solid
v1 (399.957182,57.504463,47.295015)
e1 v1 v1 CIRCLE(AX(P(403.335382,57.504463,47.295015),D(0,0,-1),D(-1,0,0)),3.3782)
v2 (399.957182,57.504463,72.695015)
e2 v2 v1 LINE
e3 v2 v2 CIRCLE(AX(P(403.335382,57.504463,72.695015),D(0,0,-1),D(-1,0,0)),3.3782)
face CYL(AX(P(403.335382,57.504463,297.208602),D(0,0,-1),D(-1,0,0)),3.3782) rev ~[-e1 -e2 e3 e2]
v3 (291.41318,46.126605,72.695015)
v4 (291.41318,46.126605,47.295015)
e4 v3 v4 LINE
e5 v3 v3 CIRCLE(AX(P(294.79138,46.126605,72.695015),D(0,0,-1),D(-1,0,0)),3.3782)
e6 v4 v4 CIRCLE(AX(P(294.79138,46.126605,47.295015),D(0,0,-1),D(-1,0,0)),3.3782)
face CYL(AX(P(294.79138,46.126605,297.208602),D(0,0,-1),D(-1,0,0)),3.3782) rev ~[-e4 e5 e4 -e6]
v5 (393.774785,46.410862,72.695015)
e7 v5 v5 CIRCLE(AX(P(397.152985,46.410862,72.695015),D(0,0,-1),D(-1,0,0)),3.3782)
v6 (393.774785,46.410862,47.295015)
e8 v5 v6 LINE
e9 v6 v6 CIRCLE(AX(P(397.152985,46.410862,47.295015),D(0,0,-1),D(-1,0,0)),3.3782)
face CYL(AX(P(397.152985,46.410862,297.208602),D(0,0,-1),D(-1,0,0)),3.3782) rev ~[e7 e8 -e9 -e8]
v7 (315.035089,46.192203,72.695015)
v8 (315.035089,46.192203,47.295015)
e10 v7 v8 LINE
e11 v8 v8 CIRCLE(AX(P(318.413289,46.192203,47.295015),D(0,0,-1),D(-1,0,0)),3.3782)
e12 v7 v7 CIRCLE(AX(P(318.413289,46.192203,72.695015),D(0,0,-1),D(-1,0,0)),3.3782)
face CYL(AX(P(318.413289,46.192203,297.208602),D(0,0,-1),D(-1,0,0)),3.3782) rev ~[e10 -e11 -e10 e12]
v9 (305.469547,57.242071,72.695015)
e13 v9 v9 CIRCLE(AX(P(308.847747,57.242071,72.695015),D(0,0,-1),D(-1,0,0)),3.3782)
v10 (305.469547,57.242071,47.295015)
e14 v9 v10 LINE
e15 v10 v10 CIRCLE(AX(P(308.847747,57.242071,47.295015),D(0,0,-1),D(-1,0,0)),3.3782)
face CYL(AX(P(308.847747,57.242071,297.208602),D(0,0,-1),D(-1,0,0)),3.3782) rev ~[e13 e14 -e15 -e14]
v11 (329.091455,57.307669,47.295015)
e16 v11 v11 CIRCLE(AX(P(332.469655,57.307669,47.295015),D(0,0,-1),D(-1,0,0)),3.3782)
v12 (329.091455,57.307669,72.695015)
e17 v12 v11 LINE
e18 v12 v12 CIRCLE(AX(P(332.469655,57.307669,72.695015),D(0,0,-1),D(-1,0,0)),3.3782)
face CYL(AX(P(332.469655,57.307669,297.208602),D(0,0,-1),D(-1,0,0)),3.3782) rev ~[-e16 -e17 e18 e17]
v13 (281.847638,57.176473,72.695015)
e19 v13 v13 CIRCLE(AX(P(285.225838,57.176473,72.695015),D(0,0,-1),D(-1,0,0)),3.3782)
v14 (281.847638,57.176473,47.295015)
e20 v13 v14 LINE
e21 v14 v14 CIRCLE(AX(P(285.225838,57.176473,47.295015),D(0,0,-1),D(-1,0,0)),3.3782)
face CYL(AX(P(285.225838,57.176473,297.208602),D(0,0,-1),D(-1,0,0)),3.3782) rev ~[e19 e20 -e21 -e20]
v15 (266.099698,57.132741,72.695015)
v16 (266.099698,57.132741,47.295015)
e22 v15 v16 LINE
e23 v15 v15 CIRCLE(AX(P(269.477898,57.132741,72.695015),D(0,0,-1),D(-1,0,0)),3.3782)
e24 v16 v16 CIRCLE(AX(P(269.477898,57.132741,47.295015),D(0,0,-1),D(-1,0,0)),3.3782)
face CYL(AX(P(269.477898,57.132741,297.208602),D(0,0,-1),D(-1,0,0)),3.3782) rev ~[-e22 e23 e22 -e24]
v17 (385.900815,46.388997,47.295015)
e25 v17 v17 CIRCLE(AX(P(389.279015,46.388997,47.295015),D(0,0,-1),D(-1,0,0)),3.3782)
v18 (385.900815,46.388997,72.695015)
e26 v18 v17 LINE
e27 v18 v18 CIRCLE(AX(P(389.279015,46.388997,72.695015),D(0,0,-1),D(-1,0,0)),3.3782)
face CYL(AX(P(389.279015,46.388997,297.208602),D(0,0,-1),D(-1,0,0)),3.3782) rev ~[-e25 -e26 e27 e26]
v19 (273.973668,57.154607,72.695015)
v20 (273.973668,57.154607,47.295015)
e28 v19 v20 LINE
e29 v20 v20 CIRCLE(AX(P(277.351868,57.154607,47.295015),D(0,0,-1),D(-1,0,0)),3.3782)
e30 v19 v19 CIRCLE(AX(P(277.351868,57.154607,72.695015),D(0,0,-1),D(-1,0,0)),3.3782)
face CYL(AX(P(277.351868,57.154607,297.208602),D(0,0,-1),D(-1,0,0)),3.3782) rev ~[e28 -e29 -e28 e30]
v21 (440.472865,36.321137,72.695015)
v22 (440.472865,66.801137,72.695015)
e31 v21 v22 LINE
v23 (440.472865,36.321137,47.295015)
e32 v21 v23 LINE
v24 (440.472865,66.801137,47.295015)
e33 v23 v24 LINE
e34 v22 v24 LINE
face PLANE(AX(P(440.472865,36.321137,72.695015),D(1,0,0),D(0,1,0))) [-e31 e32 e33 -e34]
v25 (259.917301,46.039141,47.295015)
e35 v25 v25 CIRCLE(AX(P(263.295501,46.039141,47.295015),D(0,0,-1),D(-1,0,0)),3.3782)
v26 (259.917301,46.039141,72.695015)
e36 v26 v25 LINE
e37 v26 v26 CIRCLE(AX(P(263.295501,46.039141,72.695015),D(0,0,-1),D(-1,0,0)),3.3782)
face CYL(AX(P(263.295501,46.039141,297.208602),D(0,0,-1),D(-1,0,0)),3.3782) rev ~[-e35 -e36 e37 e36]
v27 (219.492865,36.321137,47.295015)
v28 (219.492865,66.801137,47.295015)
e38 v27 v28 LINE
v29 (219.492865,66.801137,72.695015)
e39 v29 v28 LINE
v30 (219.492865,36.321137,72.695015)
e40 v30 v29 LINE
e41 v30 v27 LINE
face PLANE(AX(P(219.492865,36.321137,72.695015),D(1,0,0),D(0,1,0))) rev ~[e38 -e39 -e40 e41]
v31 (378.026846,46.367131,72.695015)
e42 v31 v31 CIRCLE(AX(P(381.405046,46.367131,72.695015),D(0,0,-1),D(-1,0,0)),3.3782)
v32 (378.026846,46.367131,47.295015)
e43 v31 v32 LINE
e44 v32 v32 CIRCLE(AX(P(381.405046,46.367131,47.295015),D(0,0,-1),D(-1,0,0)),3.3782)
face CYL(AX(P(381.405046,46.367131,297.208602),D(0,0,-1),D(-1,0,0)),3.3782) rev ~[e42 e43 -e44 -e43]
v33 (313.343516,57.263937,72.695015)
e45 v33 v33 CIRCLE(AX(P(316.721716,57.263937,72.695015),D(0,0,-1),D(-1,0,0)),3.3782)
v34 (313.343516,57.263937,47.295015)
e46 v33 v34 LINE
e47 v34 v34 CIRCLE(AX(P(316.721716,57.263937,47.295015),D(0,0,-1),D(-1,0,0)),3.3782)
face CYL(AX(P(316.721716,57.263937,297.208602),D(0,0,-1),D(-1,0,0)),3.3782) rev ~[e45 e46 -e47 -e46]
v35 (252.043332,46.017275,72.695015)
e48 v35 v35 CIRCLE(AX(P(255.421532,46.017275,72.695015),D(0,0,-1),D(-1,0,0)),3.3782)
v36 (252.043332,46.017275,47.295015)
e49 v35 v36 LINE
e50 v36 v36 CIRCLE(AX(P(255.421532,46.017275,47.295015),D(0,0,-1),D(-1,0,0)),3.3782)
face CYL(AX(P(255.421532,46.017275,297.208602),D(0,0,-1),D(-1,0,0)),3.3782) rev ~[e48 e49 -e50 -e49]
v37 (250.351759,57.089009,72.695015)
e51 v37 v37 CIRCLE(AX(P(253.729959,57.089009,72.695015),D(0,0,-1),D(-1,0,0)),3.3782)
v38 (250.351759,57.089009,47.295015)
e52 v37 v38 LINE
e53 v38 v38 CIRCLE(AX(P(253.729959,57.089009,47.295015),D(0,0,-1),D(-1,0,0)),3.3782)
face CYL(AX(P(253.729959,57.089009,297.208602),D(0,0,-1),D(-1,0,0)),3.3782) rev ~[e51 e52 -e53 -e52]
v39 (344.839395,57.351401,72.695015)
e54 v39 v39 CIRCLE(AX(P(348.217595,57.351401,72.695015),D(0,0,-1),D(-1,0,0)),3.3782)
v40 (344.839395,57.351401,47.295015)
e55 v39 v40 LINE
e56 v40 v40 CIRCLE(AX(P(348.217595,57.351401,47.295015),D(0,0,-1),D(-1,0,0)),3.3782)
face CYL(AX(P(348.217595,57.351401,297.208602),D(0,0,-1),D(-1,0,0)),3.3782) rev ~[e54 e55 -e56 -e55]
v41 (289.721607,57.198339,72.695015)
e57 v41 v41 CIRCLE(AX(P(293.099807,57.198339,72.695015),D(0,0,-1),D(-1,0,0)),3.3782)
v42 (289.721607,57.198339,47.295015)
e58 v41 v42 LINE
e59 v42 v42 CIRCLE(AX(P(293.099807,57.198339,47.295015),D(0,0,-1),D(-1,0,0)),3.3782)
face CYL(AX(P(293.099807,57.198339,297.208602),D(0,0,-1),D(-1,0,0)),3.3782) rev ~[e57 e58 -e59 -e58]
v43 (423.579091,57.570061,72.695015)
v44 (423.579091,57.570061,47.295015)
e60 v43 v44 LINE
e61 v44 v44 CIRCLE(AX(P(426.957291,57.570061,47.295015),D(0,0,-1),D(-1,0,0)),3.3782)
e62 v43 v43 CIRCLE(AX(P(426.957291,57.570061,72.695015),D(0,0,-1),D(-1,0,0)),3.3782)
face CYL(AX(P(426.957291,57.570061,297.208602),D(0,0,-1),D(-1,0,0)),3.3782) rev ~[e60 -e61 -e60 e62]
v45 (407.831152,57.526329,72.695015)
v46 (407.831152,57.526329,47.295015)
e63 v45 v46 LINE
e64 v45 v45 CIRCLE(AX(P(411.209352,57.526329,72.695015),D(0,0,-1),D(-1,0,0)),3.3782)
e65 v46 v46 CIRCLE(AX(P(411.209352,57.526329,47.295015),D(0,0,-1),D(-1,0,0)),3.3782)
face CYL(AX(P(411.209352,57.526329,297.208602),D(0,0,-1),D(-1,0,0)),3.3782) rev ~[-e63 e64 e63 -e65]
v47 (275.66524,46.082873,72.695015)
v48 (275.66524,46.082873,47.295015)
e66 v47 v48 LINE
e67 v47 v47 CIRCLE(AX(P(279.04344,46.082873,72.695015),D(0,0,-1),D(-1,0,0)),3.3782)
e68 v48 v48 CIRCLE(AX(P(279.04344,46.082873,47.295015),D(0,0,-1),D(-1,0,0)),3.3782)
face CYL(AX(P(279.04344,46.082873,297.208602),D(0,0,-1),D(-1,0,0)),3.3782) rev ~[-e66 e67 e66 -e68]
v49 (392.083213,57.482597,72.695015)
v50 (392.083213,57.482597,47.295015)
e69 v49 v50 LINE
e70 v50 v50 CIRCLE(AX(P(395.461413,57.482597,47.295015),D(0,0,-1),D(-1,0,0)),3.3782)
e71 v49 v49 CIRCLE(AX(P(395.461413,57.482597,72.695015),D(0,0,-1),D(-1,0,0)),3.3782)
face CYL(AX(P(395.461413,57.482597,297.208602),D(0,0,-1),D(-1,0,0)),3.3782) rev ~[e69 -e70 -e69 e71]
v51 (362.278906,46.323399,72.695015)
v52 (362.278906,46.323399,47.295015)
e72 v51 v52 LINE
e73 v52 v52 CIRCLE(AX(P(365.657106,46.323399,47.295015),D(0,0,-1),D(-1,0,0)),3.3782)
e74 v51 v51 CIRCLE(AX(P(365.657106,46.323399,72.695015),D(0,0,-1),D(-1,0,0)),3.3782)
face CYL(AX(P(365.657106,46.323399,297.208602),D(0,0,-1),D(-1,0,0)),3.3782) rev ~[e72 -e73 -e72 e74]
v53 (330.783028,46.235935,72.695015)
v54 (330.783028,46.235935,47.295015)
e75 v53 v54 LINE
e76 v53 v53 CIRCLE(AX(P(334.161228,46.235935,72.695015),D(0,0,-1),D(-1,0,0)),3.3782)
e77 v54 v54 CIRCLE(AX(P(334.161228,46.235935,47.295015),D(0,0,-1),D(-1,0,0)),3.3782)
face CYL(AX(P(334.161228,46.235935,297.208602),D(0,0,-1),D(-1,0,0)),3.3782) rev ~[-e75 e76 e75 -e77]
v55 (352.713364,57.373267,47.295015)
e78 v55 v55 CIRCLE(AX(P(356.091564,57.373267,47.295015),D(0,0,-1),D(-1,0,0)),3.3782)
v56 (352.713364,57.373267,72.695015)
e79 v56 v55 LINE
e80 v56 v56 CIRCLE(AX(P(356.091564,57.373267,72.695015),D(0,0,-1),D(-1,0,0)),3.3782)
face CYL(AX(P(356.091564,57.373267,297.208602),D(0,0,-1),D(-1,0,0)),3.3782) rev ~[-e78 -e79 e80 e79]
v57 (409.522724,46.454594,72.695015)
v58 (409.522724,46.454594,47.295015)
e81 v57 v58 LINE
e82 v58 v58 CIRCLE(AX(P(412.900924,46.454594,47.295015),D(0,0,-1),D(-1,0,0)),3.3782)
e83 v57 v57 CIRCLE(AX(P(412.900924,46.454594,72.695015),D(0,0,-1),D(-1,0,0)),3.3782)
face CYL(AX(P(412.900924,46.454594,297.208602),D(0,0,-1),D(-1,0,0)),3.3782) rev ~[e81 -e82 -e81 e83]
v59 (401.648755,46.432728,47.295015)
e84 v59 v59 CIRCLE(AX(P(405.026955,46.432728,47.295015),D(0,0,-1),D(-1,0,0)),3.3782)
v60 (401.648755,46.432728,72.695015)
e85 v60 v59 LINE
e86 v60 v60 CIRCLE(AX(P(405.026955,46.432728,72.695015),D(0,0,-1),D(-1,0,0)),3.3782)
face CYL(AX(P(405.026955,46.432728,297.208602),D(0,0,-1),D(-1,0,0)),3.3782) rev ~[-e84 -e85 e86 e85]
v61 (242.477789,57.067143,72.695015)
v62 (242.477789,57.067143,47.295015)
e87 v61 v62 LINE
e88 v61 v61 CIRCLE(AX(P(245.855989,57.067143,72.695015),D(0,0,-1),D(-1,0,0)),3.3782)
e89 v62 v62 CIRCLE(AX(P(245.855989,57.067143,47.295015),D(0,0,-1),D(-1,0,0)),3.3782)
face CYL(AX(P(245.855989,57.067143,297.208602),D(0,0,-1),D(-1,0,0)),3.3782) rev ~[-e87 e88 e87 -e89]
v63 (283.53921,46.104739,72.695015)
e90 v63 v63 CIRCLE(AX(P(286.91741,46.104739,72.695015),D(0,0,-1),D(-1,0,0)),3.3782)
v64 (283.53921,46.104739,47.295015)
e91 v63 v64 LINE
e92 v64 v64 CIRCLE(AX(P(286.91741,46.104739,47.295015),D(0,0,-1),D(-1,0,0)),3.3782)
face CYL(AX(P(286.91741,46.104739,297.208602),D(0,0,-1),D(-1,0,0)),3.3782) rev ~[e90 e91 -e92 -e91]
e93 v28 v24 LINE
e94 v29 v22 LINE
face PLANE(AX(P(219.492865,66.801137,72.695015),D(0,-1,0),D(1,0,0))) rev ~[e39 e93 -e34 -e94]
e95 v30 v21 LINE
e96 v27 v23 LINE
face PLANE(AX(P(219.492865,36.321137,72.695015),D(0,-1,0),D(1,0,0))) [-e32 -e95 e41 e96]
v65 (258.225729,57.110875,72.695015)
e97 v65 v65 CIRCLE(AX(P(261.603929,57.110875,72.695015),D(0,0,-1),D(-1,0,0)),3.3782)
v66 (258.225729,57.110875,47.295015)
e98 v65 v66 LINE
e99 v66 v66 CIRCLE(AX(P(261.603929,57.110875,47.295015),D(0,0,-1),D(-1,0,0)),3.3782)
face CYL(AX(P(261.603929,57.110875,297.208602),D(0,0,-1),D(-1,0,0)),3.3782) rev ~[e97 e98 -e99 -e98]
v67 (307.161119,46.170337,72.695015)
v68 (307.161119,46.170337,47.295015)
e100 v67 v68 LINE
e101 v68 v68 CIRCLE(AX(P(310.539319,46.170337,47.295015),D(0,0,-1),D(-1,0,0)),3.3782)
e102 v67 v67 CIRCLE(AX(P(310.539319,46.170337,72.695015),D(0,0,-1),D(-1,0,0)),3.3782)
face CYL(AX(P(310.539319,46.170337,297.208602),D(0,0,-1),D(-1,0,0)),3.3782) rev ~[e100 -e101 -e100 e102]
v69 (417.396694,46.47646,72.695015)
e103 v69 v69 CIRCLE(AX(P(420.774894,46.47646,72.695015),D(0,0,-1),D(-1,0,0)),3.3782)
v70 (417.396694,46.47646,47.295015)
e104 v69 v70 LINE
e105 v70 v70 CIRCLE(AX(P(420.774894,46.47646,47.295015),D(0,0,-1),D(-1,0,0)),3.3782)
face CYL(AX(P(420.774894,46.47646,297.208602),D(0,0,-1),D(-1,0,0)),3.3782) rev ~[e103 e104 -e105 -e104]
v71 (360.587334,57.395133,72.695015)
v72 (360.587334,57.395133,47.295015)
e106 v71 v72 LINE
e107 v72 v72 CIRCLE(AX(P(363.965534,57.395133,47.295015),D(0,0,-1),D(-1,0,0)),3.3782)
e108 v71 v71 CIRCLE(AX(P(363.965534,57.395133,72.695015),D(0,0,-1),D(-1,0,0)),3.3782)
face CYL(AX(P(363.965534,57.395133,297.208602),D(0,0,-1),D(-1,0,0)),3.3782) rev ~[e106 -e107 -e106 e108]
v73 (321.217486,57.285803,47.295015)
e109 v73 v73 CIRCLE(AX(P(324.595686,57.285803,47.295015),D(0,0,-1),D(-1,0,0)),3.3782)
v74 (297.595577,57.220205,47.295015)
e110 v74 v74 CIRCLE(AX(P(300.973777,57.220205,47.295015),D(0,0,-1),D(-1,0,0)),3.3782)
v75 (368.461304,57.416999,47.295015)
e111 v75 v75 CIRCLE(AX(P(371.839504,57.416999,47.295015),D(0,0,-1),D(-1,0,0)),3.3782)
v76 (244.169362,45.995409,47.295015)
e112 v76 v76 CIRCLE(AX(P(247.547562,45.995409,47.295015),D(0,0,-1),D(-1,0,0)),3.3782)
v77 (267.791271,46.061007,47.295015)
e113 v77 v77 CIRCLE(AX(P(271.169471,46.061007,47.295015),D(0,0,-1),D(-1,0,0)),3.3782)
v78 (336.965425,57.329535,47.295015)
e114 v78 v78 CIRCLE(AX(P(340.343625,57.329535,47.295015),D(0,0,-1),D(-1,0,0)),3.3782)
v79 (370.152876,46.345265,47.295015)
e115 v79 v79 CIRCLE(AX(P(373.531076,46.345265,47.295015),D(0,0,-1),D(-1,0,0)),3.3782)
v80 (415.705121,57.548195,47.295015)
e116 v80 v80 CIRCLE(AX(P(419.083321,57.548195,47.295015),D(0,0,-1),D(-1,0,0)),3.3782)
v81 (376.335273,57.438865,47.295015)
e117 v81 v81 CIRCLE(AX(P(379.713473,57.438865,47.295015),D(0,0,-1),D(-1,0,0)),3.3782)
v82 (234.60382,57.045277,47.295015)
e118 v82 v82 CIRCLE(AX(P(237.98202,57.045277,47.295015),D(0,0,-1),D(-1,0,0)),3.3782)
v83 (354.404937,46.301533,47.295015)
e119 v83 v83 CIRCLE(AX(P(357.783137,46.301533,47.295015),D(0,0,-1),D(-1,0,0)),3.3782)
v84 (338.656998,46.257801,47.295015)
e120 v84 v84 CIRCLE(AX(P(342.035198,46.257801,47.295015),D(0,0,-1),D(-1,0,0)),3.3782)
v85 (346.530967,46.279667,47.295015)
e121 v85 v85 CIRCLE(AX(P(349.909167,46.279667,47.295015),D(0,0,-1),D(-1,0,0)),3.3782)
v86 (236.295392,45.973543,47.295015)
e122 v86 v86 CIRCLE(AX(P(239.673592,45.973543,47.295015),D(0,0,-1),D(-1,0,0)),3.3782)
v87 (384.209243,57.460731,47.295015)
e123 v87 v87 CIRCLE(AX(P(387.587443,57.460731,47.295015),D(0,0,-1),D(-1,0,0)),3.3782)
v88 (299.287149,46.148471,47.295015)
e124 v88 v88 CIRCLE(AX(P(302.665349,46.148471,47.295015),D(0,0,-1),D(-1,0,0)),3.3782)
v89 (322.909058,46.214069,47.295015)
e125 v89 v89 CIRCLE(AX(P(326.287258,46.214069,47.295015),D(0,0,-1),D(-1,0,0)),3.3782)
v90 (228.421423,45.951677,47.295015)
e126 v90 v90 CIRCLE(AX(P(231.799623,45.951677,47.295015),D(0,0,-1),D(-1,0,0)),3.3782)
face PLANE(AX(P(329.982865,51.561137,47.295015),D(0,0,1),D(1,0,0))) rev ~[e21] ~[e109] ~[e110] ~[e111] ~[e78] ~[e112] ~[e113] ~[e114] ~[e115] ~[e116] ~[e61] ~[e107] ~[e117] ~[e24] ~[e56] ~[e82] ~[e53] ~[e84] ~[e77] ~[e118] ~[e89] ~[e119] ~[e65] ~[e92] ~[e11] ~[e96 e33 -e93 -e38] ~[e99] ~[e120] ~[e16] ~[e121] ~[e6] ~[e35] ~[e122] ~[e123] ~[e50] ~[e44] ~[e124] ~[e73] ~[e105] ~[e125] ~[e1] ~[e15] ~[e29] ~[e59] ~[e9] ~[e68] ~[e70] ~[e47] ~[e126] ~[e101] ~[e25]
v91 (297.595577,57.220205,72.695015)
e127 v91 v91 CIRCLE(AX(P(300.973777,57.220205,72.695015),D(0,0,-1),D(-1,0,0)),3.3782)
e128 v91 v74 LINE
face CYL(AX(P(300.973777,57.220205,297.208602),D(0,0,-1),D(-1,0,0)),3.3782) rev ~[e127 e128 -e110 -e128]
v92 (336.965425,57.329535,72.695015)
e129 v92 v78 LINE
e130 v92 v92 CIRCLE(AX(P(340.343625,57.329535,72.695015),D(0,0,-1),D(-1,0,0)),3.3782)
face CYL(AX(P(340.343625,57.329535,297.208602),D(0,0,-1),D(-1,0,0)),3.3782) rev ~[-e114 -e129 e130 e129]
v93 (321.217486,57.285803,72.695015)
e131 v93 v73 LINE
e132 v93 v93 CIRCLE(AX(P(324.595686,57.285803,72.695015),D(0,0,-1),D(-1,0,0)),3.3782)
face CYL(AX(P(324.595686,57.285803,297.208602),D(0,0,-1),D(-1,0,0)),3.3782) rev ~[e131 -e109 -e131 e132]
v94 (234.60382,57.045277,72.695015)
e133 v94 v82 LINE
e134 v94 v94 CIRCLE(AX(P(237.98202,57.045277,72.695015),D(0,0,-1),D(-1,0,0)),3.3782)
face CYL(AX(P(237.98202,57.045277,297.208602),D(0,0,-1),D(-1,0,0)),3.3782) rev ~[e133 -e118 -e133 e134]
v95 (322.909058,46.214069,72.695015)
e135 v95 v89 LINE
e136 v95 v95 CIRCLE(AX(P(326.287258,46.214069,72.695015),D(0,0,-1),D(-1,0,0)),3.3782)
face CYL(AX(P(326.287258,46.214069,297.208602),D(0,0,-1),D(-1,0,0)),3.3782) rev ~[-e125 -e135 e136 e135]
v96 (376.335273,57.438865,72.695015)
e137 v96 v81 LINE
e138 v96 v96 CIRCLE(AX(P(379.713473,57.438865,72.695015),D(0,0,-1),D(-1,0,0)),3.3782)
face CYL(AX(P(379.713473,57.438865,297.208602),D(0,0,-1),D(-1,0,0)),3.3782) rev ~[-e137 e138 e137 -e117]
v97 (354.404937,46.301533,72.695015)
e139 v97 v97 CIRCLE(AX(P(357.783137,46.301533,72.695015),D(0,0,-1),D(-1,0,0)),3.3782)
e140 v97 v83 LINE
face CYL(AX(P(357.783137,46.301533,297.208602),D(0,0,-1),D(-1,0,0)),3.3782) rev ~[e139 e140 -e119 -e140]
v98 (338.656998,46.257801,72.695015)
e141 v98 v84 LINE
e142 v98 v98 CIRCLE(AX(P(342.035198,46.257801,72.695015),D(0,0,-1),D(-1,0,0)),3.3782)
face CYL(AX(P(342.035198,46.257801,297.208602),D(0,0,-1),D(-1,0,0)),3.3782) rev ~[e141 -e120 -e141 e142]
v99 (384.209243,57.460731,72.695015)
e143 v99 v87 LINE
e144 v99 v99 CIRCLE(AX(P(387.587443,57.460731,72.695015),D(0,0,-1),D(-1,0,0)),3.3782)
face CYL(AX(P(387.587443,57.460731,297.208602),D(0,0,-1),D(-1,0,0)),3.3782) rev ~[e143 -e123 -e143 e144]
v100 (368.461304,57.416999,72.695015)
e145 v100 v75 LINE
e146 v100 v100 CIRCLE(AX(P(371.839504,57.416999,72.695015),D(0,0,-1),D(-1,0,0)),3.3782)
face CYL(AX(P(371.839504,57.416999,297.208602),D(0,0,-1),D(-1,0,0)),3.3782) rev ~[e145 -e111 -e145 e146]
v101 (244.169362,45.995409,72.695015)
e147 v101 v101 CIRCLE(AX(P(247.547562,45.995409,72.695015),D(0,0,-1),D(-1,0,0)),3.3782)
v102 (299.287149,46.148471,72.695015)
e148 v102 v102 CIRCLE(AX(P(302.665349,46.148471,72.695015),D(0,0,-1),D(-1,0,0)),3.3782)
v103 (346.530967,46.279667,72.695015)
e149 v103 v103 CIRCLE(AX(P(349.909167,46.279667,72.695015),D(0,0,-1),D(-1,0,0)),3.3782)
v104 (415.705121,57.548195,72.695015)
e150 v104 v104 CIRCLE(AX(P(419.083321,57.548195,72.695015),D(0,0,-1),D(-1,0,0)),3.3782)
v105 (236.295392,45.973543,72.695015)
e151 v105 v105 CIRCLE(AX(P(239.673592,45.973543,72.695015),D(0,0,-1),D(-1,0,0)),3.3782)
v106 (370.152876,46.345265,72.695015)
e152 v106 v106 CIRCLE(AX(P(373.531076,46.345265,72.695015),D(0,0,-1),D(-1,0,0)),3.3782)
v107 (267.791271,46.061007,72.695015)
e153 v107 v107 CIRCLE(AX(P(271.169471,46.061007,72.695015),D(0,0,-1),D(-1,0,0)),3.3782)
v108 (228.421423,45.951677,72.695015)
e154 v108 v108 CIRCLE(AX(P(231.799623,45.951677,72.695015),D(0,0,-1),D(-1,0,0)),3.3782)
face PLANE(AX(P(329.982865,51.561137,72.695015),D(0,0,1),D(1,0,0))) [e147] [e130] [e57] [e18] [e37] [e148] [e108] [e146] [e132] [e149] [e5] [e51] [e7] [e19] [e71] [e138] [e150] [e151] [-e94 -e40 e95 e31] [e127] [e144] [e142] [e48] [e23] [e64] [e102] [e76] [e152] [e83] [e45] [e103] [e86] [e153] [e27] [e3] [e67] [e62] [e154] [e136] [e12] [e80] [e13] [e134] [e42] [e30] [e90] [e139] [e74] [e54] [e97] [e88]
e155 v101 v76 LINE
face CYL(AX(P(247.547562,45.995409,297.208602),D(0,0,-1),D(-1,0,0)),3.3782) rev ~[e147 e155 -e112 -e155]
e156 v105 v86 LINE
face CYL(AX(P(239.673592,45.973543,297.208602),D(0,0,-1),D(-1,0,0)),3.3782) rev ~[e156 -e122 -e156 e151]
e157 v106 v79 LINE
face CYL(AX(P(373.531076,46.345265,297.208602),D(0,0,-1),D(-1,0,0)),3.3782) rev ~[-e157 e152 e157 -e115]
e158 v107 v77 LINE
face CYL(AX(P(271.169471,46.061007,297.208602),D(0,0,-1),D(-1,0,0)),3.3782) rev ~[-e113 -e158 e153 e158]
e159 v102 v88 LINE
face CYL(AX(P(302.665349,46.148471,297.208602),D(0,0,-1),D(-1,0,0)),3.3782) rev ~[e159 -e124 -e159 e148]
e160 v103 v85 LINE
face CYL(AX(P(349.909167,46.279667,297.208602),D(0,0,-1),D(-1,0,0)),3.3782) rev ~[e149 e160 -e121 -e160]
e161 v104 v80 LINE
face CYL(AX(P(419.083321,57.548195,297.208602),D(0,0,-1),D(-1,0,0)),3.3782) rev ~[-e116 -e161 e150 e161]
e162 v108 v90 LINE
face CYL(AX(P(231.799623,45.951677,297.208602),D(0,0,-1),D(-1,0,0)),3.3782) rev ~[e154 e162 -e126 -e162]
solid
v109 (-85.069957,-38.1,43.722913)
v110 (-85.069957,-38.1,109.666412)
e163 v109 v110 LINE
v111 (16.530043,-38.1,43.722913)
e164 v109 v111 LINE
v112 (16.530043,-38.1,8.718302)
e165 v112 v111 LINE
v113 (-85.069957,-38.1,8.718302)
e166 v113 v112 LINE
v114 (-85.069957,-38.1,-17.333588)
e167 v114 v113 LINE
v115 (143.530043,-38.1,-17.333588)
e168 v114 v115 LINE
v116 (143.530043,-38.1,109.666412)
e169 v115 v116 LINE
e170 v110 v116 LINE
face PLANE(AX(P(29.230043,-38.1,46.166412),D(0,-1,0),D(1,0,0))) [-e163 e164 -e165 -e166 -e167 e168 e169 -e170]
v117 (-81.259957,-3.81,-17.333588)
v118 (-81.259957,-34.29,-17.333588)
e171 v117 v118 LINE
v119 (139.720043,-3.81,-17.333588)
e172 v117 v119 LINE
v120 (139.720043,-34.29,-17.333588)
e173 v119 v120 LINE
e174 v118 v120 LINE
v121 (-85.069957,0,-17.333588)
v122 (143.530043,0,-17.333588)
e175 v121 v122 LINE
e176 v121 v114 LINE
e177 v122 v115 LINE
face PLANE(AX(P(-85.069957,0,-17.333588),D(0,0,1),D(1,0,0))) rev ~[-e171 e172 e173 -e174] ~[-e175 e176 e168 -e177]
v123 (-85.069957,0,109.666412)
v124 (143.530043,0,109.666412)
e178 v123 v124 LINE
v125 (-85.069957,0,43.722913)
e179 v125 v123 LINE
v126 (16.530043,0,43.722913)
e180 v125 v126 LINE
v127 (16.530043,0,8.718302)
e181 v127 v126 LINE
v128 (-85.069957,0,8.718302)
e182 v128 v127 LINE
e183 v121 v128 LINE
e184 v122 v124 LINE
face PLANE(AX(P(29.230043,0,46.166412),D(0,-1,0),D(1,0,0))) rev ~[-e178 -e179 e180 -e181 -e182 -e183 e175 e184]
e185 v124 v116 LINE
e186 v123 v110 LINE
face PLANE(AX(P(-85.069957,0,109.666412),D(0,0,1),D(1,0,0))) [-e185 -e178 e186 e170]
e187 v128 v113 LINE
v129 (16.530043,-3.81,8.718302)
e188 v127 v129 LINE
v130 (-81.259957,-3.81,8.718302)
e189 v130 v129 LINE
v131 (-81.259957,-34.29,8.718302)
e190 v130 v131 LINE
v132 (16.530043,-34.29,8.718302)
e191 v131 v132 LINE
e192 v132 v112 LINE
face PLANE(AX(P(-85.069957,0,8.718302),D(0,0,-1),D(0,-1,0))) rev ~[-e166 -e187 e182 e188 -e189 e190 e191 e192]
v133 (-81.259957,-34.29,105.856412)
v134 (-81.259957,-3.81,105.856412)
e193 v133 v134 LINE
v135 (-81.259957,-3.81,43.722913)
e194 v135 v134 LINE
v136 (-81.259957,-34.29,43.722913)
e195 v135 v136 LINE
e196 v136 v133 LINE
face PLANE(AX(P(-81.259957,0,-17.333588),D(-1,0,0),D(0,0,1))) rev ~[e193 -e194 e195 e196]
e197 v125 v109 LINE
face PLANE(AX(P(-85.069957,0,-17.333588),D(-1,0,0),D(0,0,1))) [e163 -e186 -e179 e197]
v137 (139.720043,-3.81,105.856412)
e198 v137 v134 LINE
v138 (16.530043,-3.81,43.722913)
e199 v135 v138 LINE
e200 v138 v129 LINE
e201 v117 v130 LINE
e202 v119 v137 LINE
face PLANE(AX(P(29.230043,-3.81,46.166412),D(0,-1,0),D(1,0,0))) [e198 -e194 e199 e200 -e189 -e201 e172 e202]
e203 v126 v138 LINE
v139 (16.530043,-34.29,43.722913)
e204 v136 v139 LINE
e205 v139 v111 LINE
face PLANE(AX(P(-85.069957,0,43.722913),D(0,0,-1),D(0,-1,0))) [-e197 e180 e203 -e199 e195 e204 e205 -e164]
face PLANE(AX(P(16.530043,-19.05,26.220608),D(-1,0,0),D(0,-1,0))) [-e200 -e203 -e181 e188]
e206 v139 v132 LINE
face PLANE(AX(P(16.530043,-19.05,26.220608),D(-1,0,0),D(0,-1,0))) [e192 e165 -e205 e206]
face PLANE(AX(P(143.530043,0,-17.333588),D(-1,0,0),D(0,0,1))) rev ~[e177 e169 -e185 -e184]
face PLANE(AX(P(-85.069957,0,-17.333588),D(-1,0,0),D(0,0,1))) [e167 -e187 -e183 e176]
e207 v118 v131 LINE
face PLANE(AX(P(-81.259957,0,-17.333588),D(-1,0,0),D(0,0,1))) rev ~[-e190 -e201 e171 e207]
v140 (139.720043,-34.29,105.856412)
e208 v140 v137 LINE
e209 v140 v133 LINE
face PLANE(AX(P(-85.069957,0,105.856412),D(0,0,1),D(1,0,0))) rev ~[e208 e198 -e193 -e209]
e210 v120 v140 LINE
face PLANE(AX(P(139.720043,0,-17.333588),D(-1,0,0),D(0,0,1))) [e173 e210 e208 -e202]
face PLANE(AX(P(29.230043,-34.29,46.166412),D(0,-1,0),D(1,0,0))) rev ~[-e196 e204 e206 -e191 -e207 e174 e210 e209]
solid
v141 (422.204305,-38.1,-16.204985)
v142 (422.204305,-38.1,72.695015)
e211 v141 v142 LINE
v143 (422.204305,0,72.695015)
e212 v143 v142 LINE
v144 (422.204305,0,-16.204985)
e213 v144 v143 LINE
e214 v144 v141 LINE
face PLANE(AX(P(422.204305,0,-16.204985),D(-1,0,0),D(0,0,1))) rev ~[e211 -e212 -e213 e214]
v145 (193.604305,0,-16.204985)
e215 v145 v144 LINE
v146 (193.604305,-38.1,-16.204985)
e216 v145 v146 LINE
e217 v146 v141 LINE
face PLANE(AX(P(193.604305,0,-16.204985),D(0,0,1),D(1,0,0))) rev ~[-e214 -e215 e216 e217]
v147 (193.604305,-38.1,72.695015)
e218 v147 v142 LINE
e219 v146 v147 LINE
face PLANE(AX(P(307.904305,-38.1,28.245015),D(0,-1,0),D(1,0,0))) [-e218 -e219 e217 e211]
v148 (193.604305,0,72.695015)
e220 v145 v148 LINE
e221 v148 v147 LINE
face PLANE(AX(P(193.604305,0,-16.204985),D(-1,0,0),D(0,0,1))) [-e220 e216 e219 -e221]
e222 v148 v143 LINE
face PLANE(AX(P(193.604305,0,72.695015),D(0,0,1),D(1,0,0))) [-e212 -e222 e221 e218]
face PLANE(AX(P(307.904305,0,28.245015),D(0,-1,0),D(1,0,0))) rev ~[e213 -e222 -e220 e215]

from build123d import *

# Parameters (mm, degrees)
F0_W     = 228.6
F0_H     = 127
F1_DEPTH = 38.1
F2_T     = -3.81
F3_W     = 38.1
F3_H     = 35.0046101958
F4_DEPTH = 101.6
F5_W     = 228.6
F5_H     = 88.9
F6_DEPTH = 38.1
F7_W     = 220.98
F7_H     = 30.48
F8_DEPTH = 25.4
F9_D     = 6.7564


with BuildPart() as f1:
    # F0 (on Front) → F1 (new body)
    with BuildSketch(Plane.XZ):
        with Locations((29.2300425142, 46.1664123684)):
            Rectangle(F0_W, F0_H)
    extrude(amount=F1_DEPTH)

    # F2
    f2_openings = [f1.faces().sort_by_distance(p)[0] for p in [
        (29.230043, -19.05, -17.333588),
    ]]
    offset(amount=F2_T, openings=f2_openings)

    # F3 (on face) → F4 (cut)
    with BuildSketch(Plane(origin=(-85.0699574858, 0, 0), x_dir=(0, -1, 0), z_dir=(-1, 0, 0))):
        with Locations((19.05, 26.2206075713)):
            Rectangle(F3_W, F3_H)
    extrude(amount=-F4_DEPTH, mode=Mode.SUBTRACT)


with BuildPart() as f6:
    # F5 (on Front) → F6 (new body)
    with BuildSketch(Plane.XZ):
        with Locations((307.9043053865, 28.2450151414)):
            Rectangle(F5_W, F5_H)
    extrude(amount=F6_DEPTH)


with BuildPart() as f8:
    # F7 (on face) → F8 (new body)
    with BuildSketch(Plane.XY.offset(72.6950151414)):
        with Locations((329.9828651333, 51.5611371005)):
            Rectangle(F7_W, F7_H)
    extrude(amount=-F8_DEPTH)

    # F9 (through all)
    with Locations(Plane.XY.offset(72.6950151414)):
        with Locations((231.7996226252, 45.9516770082), (239.6735922644, 45.973542983), (247.5475619036, 45.9954089579), (255.4215315428, 46.0172749327), (263.2955011821, 46.0391409075), (271.1694708213, 46.0610068823), (286.9174100997, 46.104738832), (279.0434404605, 46.0828728572), (294.7913797389, 46.1266048068), (302.6653493781, 46.1484707817), (310.5393190173, 46.1703367565), (318.4132886565, 46.1922027313), (326.2872582957, 46.2140687061), (342.0351975741, 46.2578006558), (334.1612279349, 46.235934681), (349.9091672133, 46.2796666306), (357.7831368525, 46.3015326055), (365.6571064917, 46.3233985803), (373.5310761309, 46.3452645551), (381.4050457701, 46.3671305299), (389.2790154094, 46.3889965048), (397.1529850486, 46.4108624796), (405.0269546878, 46.4327284544), (412.900924327, 46.4545944293), (420.7748939662, 46.4764604041), (426.957291123, 57.570060604), (426.957291123, 57.570060604), (419.0833214838, 57.5481946291), (411.2093518446, 57.5263286543), (403.3353822054, 57.5044626795), (395.4614125662, 57.4825967047), (387.587442927, 57.4607307298), (379.7134732878, 57.438864755), (371.8395036486, 57.4169987802), (363.9655340094, 57.3951328053), (356.0915643702, 57.3732668305), (348.217594731, 57.3514008557), (340.3436250918, 57.3295348809), (332.4696554525, 57.307668906), (324.5956858133, 57.2858029312), (316.7217161741, 57.2639369564), (308.8477465349, 57.2420709815), (300.9737768957, 57.2202050067), (285.2258376173, 57.1764730571), (293.0998072565, 57.1983390319), (277.3518679781, 57.1546070822), (269.4778983389, 57.1327411074), (261.6039286997, 57.1108751326), (245.8559894213, 57.0671431829), (253.7299590605, 57.0890091577), (237.9820197821, 57.0452772081)):
            Hole(F9_D / 2)


solid = Compound([f1.part, f6.part, f8.part])
